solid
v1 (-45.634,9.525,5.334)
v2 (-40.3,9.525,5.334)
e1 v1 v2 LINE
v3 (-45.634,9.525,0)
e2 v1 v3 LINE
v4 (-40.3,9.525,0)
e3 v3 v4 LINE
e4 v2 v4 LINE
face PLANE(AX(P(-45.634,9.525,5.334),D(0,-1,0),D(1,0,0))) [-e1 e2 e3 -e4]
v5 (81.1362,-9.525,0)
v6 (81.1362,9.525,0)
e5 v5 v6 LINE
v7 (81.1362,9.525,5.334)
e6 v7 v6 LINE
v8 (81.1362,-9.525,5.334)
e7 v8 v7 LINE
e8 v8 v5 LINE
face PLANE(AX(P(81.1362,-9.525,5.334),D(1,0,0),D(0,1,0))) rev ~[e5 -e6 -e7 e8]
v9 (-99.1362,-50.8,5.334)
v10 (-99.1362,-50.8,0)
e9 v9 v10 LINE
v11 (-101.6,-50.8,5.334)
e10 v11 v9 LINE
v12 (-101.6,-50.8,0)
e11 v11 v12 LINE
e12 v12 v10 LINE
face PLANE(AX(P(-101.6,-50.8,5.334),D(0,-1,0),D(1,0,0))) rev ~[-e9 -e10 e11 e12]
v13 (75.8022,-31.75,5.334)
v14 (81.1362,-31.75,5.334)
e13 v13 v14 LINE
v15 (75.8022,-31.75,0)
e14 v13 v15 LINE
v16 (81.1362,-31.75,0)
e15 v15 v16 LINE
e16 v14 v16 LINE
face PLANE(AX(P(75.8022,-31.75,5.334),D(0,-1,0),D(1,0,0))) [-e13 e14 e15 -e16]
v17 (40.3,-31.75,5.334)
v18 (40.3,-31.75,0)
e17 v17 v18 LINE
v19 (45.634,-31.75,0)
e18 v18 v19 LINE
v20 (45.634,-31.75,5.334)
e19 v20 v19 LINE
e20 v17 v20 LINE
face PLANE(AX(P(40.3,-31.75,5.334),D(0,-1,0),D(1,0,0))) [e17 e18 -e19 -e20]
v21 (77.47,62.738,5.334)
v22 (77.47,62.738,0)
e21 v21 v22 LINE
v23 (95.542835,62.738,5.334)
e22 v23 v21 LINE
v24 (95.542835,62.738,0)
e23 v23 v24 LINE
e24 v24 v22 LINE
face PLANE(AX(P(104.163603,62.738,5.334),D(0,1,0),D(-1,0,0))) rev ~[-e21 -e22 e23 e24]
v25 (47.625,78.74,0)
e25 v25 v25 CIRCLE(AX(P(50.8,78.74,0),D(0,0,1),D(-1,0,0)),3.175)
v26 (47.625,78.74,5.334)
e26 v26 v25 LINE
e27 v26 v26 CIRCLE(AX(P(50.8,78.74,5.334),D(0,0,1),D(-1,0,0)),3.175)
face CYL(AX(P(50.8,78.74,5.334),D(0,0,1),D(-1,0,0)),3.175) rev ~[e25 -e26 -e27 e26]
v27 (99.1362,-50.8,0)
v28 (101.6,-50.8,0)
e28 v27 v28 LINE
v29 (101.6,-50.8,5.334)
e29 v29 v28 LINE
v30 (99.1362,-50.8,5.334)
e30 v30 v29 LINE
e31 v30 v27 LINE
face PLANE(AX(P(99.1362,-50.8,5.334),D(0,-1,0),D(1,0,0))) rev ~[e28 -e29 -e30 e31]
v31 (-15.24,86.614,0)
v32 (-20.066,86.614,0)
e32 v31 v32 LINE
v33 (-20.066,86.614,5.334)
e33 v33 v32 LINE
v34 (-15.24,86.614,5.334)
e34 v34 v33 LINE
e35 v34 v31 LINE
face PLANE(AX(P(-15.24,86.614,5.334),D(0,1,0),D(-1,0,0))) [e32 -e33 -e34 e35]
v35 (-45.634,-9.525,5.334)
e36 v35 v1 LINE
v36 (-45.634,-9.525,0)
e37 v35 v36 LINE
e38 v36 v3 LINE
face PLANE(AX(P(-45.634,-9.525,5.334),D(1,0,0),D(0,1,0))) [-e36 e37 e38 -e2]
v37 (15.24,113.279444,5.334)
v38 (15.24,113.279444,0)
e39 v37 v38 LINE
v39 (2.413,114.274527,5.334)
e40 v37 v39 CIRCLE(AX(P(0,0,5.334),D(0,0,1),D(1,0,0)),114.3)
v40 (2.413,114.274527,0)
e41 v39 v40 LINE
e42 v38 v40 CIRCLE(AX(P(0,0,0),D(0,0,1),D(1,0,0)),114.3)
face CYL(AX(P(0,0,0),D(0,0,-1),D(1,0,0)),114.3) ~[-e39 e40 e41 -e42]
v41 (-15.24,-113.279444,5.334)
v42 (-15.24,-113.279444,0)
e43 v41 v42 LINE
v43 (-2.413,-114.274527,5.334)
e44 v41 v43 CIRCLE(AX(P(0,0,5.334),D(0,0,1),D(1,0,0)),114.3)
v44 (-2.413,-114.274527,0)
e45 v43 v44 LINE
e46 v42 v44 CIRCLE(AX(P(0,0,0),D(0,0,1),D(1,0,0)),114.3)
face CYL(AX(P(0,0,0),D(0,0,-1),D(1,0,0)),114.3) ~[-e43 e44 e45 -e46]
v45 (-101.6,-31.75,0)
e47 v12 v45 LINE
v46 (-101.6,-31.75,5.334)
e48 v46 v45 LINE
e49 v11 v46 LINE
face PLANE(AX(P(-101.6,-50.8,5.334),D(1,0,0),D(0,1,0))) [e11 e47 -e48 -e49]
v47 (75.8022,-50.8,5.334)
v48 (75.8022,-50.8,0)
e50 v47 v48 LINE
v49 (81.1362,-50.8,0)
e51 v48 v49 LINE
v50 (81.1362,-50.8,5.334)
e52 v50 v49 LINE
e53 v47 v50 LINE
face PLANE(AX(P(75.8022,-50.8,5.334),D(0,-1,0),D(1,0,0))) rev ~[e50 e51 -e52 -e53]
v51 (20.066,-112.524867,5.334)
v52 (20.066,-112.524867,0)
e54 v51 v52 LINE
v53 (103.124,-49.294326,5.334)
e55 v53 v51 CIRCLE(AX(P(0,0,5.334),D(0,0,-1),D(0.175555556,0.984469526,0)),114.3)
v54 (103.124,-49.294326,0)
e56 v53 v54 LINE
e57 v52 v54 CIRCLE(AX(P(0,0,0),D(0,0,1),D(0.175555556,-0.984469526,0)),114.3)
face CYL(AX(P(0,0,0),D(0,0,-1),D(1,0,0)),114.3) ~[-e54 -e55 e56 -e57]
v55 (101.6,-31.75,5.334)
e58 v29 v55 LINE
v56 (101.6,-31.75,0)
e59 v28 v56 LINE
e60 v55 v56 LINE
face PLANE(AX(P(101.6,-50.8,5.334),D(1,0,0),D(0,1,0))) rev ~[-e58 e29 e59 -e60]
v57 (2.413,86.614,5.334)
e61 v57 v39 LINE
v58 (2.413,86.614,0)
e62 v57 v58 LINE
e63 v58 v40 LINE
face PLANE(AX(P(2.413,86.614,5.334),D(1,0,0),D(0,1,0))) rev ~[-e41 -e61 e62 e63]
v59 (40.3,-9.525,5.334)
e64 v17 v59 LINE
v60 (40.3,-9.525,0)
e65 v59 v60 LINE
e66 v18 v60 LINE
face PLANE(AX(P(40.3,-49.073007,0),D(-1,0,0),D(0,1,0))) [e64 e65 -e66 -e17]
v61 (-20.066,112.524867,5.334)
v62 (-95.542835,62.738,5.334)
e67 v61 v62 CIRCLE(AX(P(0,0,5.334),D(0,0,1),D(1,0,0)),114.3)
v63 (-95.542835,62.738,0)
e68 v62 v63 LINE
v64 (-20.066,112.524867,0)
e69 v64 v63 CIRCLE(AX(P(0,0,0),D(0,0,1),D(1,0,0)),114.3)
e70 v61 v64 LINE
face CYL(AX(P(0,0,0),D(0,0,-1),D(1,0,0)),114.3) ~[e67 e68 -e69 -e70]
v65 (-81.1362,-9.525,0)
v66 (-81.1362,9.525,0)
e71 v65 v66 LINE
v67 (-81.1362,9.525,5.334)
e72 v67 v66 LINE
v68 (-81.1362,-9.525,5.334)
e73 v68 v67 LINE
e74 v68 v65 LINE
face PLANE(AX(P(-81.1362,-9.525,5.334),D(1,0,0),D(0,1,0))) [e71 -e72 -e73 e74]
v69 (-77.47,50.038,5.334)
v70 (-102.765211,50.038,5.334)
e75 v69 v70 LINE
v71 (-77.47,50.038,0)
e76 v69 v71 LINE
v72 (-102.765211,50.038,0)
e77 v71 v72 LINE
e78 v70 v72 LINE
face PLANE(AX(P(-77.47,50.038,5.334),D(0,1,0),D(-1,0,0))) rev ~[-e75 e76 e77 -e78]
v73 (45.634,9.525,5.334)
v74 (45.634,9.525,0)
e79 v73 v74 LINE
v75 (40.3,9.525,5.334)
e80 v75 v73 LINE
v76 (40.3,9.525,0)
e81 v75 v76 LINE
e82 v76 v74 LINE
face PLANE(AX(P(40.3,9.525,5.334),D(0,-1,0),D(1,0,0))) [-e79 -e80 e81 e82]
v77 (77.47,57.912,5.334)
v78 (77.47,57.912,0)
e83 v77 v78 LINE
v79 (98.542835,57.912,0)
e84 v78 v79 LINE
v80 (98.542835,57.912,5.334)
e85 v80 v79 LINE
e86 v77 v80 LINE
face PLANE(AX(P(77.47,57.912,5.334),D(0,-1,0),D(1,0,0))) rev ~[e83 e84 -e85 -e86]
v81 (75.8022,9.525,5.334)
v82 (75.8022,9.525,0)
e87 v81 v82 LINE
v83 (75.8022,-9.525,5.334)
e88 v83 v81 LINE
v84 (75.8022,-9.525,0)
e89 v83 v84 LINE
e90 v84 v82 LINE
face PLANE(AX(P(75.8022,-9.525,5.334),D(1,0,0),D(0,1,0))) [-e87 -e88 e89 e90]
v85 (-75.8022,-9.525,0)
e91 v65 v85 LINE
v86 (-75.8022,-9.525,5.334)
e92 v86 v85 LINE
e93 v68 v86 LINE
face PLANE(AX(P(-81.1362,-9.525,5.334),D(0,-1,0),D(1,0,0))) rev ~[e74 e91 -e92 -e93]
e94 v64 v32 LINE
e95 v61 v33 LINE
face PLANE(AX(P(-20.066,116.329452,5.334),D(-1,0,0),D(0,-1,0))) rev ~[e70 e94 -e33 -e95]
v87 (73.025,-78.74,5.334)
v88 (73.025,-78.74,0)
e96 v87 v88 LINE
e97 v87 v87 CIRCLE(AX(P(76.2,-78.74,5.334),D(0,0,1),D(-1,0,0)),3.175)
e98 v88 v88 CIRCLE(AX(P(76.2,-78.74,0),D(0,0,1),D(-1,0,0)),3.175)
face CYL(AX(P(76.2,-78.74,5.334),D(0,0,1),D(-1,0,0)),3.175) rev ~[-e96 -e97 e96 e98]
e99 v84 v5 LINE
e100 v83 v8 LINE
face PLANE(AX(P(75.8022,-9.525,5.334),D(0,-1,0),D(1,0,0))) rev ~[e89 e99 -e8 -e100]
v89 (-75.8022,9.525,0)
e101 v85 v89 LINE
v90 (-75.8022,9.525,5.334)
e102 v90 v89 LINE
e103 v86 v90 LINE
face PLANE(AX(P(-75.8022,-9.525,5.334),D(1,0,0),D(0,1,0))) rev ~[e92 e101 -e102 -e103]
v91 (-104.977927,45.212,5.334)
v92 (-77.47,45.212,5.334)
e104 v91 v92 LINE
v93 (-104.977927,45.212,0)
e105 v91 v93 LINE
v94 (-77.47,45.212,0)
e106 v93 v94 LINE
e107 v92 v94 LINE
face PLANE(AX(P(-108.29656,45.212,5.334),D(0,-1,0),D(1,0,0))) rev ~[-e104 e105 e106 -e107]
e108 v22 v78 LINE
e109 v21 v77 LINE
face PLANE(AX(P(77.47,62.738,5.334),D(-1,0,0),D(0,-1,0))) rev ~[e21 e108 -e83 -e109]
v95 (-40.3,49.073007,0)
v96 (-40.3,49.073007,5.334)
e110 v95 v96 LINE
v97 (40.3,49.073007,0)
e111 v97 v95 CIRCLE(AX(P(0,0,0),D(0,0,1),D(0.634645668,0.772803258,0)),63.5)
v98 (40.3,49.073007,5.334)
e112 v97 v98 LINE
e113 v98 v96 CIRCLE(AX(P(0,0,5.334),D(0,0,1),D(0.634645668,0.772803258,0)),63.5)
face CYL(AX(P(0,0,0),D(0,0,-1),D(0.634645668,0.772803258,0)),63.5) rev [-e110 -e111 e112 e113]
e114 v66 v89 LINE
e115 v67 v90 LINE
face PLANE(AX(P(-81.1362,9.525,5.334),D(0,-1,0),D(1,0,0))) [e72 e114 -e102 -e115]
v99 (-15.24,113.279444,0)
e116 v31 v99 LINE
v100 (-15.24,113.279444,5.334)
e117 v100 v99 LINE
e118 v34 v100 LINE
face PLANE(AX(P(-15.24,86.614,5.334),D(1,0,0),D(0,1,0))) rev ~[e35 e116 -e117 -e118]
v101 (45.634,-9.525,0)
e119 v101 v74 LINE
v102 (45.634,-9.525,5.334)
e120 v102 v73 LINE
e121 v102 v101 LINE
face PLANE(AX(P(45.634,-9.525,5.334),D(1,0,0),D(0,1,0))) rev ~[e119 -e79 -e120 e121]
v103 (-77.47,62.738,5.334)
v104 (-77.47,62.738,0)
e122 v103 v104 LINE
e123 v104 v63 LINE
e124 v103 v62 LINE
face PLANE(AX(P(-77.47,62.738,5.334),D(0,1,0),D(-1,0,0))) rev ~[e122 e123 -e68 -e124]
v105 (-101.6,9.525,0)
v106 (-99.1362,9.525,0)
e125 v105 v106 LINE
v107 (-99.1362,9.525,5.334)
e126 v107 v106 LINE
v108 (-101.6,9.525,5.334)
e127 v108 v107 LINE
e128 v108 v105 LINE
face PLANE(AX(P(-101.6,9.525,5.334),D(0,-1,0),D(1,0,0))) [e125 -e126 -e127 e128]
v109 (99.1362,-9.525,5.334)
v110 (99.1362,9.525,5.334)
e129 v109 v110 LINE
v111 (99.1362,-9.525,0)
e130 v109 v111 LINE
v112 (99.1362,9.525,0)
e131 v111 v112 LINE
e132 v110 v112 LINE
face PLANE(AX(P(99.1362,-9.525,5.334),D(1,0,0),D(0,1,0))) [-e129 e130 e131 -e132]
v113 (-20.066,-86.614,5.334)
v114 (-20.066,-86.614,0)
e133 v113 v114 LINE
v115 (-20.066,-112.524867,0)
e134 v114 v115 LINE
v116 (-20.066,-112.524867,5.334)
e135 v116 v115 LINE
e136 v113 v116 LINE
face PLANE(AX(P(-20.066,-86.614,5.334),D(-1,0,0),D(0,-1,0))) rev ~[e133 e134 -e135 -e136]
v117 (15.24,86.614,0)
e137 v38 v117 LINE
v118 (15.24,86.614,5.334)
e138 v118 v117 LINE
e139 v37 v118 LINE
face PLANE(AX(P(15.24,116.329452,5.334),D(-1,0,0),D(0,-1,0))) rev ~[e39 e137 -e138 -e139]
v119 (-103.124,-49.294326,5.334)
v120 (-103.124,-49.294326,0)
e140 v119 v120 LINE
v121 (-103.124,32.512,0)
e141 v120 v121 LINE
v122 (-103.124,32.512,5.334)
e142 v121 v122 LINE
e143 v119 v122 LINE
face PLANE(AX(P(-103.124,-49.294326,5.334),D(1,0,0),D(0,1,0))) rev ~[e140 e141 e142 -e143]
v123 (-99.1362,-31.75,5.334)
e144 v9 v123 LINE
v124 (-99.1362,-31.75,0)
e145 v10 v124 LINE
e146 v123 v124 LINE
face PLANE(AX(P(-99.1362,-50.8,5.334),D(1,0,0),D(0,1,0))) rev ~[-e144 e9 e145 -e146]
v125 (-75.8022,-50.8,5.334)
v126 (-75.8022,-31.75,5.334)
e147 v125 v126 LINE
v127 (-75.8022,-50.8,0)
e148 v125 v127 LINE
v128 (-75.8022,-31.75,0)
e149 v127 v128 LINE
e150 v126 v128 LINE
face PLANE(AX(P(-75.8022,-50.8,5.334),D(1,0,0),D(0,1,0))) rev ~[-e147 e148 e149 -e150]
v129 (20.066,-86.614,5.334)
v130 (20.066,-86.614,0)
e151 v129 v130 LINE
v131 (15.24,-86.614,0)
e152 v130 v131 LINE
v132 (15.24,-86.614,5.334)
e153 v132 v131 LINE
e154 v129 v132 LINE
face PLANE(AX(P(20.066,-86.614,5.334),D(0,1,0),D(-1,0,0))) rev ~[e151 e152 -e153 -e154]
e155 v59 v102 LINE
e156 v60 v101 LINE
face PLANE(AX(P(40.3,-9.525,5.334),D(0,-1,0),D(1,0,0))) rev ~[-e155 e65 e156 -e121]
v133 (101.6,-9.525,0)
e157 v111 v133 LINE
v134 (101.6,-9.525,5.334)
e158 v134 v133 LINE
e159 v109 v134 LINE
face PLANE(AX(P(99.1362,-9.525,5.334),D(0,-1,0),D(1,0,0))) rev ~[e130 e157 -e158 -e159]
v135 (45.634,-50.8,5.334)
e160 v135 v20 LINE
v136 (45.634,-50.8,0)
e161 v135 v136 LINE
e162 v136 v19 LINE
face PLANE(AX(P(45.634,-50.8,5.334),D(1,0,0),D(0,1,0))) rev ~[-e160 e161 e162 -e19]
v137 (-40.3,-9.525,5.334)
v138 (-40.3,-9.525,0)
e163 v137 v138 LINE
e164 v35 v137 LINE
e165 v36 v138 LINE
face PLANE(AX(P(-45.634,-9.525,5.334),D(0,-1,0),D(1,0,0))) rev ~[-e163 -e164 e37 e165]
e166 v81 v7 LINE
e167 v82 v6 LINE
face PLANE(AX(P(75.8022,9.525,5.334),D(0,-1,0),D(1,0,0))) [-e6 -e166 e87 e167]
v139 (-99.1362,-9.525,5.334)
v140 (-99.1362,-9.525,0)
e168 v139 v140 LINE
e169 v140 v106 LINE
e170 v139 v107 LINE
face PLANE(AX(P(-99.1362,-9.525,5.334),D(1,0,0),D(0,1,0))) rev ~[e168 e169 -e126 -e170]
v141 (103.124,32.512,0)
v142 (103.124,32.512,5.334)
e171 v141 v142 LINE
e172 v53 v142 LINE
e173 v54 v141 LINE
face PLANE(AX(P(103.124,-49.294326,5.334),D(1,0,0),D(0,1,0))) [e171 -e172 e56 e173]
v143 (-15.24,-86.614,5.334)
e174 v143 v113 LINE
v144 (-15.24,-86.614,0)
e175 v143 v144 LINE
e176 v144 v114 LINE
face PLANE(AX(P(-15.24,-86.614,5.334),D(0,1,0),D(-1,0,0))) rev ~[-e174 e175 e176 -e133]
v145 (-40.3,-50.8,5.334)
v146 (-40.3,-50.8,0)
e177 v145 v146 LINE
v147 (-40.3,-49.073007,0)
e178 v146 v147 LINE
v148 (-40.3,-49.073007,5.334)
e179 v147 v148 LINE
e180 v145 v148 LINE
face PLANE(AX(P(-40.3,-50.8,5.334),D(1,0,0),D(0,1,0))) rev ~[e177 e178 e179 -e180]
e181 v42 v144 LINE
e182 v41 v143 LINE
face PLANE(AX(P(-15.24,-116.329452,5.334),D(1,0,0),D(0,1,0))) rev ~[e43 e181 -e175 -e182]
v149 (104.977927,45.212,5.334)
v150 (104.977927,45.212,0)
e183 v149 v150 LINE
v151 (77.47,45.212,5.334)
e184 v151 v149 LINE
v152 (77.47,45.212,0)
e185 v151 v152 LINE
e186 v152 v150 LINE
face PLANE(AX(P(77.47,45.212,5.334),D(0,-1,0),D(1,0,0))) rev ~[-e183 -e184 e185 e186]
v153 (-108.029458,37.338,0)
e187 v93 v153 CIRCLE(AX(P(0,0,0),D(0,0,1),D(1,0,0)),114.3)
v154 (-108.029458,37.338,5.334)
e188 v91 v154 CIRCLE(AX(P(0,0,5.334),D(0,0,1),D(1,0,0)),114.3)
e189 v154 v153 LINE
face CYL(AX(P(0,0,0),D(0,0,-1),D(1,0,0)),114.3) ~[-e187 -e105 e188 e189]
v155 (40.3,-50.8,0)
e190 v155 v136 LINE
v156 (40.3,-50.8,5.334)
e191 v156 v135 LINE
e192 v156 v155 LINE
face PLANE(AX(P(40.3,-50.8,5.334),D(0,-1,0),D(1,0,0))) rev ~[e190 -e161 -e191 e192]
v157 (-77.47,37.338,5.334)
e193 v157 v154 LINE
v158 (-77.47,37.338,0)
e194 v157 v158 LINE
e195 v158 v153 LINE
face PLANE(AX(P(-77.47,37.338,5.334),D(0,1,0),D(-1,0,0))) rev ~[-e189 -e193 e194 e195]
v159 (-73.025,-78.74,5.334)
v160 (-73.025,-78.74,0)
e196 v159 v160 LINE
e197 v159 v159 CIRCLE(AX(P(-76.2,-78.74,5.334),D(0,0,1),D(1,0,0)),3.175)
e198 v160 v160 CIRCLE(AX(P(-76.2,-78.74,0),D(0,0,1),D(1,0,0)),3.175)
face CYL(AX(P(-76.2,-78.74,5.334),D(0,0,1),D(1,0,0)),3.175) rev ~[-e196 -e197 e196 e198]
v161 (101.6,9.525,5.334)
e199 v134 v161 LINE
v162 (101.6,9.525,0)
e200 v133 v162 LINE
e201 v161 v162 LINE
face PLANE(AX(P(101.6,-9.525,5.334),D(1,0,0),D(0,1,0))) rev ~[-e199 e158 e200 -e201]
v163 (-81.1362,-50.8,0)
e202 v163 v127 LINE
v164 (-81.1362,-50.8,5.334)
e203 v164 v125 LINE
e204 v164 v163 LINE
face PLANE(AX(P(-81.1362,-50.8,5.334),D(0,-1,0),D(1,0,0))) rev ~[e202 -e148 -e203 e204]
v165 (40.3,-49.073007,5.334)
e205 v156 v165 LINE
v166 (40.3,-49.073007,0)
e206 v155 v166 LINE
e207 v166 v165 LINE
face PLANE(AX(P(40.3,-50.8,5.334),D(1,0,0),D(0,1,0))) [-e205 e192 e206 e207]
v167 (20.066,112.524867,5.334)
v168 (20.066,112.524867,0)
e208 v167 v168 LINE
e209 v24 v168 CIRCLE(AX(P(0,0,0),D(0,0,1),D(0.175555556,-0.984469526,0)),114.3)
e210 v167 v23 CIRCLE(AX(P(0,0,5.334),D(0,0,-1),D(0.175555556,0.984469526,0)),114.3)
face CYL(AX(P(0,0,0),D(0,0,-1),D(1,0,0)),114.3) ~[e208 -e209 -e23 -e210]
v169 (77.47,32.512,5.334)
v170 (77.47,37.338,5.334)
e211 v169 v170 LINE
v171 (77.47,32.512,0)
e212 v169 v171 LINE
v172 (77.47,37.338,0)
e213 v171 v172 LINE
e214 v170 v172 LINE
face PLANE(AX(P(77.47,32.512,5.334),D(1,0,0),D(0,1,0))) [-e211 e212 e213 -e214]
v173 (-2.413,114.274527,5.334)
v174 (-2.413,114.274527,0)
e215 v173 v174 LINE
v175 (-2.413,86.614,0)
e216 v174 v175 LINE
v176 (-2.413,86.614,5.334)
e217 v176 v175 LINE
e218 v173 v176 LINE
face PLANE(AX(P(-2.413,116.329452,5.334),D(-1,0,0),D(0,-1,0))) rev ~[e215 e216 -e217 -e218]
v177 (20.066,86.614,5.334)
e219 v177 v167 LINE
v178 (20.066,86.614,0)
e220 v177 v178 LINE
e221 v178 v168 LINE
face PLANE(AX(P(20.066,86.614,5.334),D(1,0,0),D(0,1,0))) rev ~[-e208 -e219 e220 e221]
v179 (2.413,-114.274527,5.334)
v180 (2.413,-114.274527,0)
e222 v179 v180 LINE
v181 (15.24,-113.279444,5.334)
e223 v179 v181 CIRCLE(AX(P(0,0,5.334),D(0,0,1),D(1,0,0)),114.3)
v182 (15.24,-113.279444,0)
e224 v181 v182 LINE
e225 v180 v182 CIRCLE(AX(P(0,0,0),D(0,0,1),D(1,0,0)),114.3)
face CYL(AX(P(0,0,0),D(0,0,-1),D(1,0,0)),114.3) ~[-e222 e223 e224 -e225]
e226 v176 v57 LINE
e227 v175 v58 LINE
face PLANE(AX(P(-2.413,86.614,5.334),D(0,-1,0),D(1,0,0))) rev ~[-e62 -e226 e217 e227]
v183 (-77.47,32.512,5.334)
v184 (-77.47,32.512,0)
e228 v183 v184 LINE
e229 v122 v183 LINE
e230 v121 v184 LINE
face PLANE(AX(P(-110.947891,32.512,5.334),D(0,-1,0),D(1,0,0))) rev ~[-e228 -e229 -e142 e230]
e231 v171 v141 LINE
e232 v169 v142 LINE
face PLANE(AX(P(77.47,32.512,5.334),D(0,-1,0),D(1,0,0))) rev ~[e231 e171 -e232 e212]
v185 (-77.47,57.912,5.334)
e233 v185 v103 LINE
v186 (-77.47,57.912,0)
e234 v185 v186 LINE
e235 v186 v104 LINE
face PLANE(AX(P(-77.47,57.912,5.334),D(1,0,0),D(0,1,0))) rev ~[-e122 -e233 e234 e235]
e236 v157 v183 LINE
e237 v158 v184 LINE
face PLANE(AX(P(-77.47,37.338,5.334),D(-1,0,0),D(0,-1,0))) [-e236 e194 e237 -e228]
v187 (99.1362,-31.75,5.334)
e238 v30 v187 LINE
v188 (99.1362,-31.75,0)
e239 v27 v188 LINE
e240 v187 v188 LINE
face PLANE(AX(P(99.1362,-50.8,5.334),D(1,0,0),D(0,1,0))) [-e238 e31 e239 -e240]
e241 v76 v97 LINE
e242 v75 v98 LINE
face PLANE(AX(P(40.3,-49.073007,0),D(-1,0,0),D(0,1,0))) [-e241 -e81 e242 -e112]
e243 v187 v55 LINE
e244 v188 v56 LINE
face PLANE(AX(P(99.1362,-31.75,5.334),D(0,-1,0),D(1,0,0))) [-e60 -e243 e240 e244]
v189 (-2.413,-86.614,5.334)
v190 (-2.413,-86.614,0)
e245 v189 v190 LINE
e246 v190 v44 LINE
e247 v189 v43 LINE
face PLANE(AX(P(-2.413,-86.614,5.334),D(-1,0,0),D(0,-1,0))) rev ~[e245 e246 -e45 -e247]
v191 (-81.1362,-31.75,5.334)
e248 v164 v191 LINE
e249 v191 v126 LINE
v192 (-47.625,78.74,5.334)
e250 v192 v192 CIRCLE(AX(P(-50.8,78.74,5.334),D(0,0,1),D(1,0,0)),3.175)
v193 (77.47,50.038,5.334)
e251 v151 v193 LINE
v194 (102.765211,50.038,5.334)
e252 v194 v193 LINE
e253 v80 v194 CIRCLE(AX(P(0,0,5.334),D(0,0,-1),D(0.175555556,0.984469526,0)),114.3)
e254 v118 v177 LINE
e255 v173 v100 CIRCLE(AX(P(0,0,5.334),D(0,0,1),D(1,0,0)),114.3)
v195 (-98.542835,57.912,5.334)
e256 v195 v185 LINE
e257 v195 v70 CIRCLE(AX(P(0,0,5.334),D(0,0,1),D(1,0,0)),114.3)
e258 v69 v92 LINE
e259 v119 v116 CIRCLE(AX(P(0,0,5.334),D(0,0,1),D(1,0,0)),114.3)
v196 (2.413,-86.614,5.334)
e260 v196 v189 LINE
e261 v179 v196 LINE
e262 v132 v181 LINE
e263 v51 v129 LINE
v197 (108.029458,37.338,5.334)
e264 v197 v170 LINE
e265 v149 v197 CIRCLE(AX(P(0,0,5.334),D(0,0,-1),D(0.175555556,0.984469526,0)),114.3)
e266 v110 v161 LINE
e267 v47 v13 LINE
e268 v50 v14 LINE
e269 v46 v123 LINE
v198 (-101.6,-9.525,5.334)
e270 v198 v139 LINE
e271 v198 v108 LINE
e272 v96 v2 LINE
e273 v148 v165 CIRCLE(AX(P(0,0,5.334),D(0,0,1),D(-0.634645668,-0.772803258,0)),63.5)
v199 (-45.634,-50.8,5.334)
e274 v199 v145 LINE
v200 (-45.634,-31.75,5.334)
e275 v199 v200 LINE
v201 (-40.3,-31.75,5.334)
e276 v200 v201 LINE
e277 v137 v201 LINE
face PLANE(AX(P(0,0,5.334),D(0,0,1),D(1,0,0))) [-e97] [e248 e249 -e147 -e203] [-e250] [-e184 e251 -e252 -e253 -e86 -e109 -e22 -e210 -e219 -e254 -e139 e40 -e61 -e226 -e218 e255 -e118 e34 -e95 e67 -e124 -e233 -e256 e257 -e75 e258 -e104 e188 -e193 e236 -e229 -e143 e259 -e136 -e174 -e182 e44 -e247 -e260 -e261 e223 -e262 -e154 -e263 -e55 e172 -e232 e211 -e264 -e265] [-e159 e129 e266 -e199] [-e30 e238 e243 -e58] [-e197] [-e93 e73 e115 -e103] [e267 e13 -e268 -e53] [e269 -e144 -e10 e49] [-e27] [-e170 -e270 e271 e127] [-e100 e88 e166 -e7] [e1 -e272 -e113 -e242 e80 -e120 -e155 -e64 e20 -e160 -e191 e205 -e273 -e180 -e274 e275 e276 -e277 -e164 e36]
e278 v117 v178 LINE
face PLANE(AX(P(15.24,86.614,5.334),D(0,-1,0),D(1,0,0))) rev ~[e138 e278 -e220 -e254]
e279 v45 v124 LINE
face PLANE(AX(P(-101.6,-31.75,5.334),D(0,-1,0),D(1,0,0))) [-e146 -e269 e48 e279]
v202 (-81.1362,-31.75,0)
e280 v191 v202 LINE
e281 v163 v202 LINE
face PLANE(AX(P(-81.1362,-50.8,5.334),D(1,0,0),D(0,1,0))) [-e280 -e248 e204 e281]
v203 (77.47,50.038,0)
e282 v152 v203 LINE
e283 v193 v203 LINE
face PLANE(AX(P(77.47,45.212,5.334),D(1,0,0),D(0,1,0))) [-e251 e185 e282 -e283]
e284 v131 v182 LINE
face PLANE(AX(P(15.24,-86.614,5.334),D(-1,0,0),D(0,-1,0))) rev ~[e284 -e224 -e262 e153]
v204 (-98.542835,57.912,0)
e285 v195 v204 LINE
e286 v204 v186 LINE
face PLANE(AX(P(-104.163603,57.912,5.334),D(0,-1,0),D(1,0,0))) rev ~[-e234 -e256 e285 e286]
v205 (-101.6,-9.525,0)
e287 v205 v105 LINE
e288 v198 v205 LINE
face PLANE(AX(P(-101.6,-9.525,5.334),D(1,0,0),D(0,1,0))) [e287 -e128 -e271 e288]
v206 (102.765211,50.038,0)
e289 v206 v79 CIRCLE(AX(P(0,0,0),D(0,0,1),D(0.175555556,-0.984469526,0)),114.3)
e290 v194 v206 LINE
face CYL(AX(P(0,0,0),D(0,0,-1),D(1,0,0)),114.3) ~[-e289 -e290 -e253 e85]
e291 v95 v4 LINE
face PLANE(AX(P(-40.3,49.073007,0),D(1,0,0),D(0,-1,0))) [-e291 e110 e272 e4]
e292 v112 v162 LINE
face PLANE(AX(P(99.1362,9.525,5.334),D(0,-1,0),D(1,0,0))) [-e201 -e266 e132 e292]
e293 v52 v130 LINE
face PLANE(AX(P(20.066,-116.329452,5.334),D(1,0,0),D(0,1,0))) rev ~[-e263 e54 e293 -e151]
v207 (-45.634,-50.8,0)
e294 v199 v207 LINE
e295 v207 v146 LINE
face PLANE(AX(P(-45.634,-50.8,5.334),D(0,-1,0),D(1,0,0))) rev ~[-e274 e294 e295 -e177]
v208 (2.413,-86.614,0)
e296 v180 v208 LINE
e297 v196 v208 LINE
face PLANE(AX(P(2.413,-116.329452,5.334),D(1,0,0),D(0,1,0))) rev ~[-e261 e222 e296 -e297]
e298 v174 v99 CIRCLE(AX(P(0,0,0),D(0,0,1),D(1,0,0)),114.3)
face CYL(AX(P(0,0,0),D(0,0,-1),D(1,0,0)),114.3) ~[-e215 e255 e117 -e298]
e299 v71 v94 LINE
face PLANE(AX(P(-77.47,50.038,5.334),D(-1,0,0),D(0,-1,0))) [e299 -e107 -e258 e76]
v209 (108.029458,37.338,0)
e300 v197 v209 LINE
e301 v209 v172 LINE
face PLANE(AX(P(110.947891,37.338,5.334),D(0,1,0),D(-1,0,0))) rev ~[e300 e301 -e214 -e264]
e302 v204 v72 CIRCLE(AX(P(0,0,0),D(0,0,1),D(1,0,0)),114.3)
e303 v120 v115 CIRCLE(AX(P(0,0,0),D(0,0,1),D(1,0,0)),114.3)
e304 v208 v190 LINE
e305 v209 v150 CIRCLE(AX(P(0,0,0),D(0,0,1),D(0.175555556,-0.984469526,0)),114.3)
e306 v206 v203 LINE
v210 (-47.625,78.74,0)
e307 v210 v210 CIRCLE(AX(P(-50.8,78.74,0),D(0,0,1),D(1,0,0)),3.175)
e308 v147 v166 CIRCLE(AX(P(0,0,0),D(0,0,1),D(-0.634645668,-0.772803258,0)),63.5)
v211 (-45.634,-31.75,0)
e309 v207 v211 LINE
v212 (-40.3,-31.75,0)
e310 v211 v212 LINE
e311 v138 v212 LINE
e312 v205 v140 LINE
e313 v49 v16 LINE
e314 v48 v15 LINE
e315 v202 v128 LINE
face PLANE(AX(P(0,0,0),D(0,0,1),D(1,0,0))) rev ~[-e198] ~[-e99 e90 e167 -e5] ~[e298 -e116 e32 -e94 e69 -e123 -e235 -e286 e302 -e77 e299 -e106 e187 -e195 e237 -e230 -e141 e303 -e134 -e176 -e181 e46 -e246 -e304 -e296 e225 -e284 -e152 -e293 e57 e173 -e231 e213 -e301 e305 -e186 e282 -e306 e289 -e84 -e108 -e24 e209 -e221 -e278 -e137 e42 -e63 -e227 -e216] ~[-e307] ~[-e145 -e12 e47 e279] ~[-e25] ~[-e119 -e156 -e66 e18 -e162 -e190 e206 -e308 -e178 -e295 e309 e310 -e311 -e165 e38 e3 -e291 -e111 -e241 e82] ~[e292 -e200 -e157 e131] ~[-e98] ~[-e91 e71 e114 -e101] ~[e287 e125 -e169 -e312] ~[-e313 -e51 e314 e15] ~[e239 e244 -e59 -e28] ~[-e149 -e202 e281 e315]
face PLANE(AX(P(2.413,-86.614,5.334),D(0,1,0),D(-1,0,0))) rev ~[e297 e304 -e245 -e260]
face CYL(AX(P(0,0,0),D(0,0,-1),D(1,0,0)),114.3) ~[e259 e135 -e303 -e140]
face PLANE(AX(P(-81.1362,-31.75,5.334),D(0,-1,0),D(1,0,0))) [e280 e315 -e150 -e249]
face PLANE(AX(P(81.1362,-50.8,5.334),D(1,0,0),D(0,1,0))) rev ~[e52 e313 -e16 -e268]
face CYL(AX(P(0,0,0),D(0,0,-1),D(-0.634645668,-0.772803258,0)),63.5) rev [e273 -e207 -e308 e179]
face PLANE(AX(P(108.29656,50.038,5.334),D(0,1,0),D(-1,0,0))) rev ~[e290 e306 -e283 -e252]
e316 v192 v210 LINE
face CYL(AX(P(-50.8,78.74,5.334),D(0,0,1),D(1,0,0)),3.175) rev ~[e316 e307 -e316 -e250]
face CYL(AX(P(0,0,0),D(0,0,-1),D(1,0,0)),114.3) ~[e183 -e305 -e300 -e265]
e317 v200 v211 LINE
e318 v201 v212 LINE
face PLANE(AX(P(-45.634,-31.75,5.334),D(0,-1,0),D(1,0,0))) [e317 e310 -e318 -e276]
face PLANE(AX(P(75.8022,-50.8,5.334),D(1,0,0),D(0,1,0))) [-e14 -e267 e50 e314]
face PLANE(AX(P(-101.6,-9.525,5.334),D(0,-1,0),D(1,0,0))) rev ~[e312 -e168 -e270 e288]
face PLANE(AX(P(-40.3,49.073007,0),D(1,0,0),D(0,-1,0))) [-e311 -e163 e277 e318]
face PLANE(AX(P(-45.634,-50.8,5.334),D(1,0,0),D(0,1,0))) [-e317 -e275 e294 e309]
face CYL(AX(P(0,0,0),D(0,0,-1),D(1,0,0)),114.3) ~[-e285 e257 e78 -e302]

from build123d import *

# Parameters (mm, degrees)
SKETCH1_R           = 114.3
BOSS_EXTRUDE1_DEPTH = 5.334
TOPBOTTOMCUTS_DEPTH = 162.732592745
SIDECUTS_DEPTH      = 162.714591138
SKETCH4_W           = 2.4638
SKETCH4_H           = 19.05
SKETCH4_W_2         = 5.334
MOTORMOUNTS_DEPTH   = 162.714591138
SKETCH5_R           = 3.175
BOLTHOLES_DEPTH     = 162.714591138
SKETCH6_W           = 22.352
SKETCH6_H           = 83.470360746
WHEEL_CUTOUTS_DEPTH = 162.714591138


with BuildPart() as part:
    # Sketch1 → Boss-Extrude1 (new body)
    with BuildSketch(Plane.XY):
        Circle(SKETCH1_R)
        with BuildLine():
            Line((-40.299999918, 49.073006904), (-40.299999918, -49.073006904))
            ThreePointArc((-40.299999918, -49.073006904), (0, -63.5), (40.299999918, -49.073006904))
            Line((40.299999918, -49.073006904), (40.299999918, 49.073006904))
            ThreePointArc((40.299999918, 49.073006904), (0, 63.5), (-40.299999918, 49.073006904))
        make_face(mode=Mode.SUBTRACT)
    extrude(amount=BOSS_EXTRUDE1_DEPTH)

    # Sketch2 → TopBottomCuts (cut, through all)
    with BuildSketch(Plane.XY.offset(5.334)):
        Polygon((-20.066, 92.964), (-20.066, 116.329451538), (-15.24, 116.329451538), (-15.24, 92.964), (-15.24, 86.614), (-20.066, 86.614), align=None)
        Polygon((15.24, 92.964), (15.24, 86.614), (20.066, 86.614), (20.066, 92.964), (20.066, 116.329451538), (15.24, 116.329451538), align=None)
        Polygon((-2.413, 92.964), (-2.413, 86.614), (2.413, 86.614), (2.413, 92.964), (2.413, 116.329451538), (-2.413, 116.329451538), align=None)
        Polygon((20.066, -116.329451538), (20.066, -92.964), (20.066, -86.614), (15.24, -86.614), (15.24, -92.964), (15.24, -116.329451538), align=None)
        Polygon((2.413, -116.329451538), (2.413, -92.964), (2.413, -86.614), (-2.413, -86.614), (-2.413, -92.964), (-2.413, -116.329451538), align=None)
        Polygon((-15.24, -116.329451538), (-15.24, -92.964), (-15.24, -86.614), (-20.066, -86.614), (-20.066, -92.964), (-20.066, -116.329451538), align=None)
    extrude(amount=-TOPBOTTOMCUTS_DEPTH, mode=Mode.SUBTRACT)

    # Sketch3 → SideCuts (cut, through all)
    with BuildSketch(Plane.XY.offset(5.334)):
        Polygon((-83.82, 37.338), (-77.47, 37.338), (-77.47, 32.512), (-83.82, 32.512), (-110.947890819, 32.512), (-110.947890819, 37.338), align=None)
        Polygon((-83.82, 62.738), (-104.163602824, 62.738), (-104.163602824, 57.912), (-83.82, 57.912), (-77.47, 57.912), (-77.47, 62.738), align=None)
        Polygon((-83.82, 50.038), (-77.47, 50.038), (-77.47, 45.212), (-83.82, 45.212), (-108.296559878, 45.212), (-108.296559878, 50.038), align=None)
        Polygon((110.947890819, 32.512), (83.82, 32.512), (77.47, 32.512), (77.47, 37.338), (83.82, 37.338), (110.947890819, 37.338), align=None)
        Polygon((108.296559878, 45.212), (83.82, 45.212), (77.47, 45.212), (77.47, 50.038), (83.82, 50.038), (108.296559878, 50.038), align=None)
        Polygon((77.47, 62.738), (77.47, 57.912), (83.82, 57.912), (104.163602824, 57.912), (104.163602824, 62.738), (83.82, 62.738), align=None)
    extrude(amount=-SIDECUTS_DEPTH, mode=Mode.SUBTRACT)

    # Sketch4 → MotorMounts (cut, through all)
    with BuildSketch(Plane.XY.offset(5.334)):
        with Locations((-100.3681, -41.275)):
            Rectangle(SKETCH4_W, SKETCH4_H)
        with Locations((-100.3681, 0)):
            Rectangle(SKETCH4_W, SKETCH4_H)
        with Locations((-78.469199932, 0)):
            Rectangle(SKETCH4_W_2, SKETCH4_H)
        with Locations((-42.966999918, 0)):
            Rectangle(SKETCH4_W_2, SKETCH4_H)
        with Locations((-78.469199932, -41.275)):
            Rectangle(SKETCH4_W_2, SKETCH4_H)
        with Locations((-42.966999918, -41.275)):
            Rectangle(SKETCH4_W_2, SKETCH4_H)
        with Locations((42.966999918, -41.275)):
            Rectangle(SKETCH4_W_2, SKETCH4_H)
        with Locations((78.469199932, -41.275)):
            Rectangle(SKETCH4_W_2, SKETCH4_H)
        with Locations((100.3681, -41.275)):
            Rectangle(SKETCH4_W, SKETCH4_H)
        with Locations((42.966999918, 0)):
            Rectangle(SKETCH4_W_2, SKETCH4_H)
        with Locations((78.469199932, 0)):
            Rectangle(SKETCH4_W_2, SKETCH4_H)
        with Locations((100.3681, 0)):
            Rectangle(SKETCH4_W, SKETCH4_H)
    extrude(amount=-MOTORMOUNTS_DEPTH, mode=Mode.SUBTRACT)

    # Sketch5 → BoltHoles (cut, through all)
    with BuildSketch(Plane.XY.offset(5.334)):
        with Locations((-76.2, -78.74)):
            Circle(SKETCH5_R)
        with Locations((-50.8, 78.74)):
            Circle(SKETCH5_R)
        with Locations(Location((76.2, -78.74, 0), (0, 0, 180))):
            Circle(SKETCH5_R)
        with Locations(Location((50.8, 78.74, 0), (0, 0, 180))):
            Circle(SKETCH5_R)
    extrude(amount=-BOLTHOLES_DEPTH, mode=Mode.SUBTRACT)

    # Sketch6 → Wheel Cutouts (cut, through all)
    with BuildSketch(Plane.XY.offset(5.334)):
        with Locations((-114.3, -7.559146116)):
            Rectangle(SKETCH6_W, SKETCH6_H)
        with Locations((114.3, -7.559146116)):
            Rectangle(SKETCH6_W, SKETCH6_H)
    extrude(amount=-WHEEL_CUTOUTS_DEPTH, mode=Mode.SUBTRACT)


solid = part.part
